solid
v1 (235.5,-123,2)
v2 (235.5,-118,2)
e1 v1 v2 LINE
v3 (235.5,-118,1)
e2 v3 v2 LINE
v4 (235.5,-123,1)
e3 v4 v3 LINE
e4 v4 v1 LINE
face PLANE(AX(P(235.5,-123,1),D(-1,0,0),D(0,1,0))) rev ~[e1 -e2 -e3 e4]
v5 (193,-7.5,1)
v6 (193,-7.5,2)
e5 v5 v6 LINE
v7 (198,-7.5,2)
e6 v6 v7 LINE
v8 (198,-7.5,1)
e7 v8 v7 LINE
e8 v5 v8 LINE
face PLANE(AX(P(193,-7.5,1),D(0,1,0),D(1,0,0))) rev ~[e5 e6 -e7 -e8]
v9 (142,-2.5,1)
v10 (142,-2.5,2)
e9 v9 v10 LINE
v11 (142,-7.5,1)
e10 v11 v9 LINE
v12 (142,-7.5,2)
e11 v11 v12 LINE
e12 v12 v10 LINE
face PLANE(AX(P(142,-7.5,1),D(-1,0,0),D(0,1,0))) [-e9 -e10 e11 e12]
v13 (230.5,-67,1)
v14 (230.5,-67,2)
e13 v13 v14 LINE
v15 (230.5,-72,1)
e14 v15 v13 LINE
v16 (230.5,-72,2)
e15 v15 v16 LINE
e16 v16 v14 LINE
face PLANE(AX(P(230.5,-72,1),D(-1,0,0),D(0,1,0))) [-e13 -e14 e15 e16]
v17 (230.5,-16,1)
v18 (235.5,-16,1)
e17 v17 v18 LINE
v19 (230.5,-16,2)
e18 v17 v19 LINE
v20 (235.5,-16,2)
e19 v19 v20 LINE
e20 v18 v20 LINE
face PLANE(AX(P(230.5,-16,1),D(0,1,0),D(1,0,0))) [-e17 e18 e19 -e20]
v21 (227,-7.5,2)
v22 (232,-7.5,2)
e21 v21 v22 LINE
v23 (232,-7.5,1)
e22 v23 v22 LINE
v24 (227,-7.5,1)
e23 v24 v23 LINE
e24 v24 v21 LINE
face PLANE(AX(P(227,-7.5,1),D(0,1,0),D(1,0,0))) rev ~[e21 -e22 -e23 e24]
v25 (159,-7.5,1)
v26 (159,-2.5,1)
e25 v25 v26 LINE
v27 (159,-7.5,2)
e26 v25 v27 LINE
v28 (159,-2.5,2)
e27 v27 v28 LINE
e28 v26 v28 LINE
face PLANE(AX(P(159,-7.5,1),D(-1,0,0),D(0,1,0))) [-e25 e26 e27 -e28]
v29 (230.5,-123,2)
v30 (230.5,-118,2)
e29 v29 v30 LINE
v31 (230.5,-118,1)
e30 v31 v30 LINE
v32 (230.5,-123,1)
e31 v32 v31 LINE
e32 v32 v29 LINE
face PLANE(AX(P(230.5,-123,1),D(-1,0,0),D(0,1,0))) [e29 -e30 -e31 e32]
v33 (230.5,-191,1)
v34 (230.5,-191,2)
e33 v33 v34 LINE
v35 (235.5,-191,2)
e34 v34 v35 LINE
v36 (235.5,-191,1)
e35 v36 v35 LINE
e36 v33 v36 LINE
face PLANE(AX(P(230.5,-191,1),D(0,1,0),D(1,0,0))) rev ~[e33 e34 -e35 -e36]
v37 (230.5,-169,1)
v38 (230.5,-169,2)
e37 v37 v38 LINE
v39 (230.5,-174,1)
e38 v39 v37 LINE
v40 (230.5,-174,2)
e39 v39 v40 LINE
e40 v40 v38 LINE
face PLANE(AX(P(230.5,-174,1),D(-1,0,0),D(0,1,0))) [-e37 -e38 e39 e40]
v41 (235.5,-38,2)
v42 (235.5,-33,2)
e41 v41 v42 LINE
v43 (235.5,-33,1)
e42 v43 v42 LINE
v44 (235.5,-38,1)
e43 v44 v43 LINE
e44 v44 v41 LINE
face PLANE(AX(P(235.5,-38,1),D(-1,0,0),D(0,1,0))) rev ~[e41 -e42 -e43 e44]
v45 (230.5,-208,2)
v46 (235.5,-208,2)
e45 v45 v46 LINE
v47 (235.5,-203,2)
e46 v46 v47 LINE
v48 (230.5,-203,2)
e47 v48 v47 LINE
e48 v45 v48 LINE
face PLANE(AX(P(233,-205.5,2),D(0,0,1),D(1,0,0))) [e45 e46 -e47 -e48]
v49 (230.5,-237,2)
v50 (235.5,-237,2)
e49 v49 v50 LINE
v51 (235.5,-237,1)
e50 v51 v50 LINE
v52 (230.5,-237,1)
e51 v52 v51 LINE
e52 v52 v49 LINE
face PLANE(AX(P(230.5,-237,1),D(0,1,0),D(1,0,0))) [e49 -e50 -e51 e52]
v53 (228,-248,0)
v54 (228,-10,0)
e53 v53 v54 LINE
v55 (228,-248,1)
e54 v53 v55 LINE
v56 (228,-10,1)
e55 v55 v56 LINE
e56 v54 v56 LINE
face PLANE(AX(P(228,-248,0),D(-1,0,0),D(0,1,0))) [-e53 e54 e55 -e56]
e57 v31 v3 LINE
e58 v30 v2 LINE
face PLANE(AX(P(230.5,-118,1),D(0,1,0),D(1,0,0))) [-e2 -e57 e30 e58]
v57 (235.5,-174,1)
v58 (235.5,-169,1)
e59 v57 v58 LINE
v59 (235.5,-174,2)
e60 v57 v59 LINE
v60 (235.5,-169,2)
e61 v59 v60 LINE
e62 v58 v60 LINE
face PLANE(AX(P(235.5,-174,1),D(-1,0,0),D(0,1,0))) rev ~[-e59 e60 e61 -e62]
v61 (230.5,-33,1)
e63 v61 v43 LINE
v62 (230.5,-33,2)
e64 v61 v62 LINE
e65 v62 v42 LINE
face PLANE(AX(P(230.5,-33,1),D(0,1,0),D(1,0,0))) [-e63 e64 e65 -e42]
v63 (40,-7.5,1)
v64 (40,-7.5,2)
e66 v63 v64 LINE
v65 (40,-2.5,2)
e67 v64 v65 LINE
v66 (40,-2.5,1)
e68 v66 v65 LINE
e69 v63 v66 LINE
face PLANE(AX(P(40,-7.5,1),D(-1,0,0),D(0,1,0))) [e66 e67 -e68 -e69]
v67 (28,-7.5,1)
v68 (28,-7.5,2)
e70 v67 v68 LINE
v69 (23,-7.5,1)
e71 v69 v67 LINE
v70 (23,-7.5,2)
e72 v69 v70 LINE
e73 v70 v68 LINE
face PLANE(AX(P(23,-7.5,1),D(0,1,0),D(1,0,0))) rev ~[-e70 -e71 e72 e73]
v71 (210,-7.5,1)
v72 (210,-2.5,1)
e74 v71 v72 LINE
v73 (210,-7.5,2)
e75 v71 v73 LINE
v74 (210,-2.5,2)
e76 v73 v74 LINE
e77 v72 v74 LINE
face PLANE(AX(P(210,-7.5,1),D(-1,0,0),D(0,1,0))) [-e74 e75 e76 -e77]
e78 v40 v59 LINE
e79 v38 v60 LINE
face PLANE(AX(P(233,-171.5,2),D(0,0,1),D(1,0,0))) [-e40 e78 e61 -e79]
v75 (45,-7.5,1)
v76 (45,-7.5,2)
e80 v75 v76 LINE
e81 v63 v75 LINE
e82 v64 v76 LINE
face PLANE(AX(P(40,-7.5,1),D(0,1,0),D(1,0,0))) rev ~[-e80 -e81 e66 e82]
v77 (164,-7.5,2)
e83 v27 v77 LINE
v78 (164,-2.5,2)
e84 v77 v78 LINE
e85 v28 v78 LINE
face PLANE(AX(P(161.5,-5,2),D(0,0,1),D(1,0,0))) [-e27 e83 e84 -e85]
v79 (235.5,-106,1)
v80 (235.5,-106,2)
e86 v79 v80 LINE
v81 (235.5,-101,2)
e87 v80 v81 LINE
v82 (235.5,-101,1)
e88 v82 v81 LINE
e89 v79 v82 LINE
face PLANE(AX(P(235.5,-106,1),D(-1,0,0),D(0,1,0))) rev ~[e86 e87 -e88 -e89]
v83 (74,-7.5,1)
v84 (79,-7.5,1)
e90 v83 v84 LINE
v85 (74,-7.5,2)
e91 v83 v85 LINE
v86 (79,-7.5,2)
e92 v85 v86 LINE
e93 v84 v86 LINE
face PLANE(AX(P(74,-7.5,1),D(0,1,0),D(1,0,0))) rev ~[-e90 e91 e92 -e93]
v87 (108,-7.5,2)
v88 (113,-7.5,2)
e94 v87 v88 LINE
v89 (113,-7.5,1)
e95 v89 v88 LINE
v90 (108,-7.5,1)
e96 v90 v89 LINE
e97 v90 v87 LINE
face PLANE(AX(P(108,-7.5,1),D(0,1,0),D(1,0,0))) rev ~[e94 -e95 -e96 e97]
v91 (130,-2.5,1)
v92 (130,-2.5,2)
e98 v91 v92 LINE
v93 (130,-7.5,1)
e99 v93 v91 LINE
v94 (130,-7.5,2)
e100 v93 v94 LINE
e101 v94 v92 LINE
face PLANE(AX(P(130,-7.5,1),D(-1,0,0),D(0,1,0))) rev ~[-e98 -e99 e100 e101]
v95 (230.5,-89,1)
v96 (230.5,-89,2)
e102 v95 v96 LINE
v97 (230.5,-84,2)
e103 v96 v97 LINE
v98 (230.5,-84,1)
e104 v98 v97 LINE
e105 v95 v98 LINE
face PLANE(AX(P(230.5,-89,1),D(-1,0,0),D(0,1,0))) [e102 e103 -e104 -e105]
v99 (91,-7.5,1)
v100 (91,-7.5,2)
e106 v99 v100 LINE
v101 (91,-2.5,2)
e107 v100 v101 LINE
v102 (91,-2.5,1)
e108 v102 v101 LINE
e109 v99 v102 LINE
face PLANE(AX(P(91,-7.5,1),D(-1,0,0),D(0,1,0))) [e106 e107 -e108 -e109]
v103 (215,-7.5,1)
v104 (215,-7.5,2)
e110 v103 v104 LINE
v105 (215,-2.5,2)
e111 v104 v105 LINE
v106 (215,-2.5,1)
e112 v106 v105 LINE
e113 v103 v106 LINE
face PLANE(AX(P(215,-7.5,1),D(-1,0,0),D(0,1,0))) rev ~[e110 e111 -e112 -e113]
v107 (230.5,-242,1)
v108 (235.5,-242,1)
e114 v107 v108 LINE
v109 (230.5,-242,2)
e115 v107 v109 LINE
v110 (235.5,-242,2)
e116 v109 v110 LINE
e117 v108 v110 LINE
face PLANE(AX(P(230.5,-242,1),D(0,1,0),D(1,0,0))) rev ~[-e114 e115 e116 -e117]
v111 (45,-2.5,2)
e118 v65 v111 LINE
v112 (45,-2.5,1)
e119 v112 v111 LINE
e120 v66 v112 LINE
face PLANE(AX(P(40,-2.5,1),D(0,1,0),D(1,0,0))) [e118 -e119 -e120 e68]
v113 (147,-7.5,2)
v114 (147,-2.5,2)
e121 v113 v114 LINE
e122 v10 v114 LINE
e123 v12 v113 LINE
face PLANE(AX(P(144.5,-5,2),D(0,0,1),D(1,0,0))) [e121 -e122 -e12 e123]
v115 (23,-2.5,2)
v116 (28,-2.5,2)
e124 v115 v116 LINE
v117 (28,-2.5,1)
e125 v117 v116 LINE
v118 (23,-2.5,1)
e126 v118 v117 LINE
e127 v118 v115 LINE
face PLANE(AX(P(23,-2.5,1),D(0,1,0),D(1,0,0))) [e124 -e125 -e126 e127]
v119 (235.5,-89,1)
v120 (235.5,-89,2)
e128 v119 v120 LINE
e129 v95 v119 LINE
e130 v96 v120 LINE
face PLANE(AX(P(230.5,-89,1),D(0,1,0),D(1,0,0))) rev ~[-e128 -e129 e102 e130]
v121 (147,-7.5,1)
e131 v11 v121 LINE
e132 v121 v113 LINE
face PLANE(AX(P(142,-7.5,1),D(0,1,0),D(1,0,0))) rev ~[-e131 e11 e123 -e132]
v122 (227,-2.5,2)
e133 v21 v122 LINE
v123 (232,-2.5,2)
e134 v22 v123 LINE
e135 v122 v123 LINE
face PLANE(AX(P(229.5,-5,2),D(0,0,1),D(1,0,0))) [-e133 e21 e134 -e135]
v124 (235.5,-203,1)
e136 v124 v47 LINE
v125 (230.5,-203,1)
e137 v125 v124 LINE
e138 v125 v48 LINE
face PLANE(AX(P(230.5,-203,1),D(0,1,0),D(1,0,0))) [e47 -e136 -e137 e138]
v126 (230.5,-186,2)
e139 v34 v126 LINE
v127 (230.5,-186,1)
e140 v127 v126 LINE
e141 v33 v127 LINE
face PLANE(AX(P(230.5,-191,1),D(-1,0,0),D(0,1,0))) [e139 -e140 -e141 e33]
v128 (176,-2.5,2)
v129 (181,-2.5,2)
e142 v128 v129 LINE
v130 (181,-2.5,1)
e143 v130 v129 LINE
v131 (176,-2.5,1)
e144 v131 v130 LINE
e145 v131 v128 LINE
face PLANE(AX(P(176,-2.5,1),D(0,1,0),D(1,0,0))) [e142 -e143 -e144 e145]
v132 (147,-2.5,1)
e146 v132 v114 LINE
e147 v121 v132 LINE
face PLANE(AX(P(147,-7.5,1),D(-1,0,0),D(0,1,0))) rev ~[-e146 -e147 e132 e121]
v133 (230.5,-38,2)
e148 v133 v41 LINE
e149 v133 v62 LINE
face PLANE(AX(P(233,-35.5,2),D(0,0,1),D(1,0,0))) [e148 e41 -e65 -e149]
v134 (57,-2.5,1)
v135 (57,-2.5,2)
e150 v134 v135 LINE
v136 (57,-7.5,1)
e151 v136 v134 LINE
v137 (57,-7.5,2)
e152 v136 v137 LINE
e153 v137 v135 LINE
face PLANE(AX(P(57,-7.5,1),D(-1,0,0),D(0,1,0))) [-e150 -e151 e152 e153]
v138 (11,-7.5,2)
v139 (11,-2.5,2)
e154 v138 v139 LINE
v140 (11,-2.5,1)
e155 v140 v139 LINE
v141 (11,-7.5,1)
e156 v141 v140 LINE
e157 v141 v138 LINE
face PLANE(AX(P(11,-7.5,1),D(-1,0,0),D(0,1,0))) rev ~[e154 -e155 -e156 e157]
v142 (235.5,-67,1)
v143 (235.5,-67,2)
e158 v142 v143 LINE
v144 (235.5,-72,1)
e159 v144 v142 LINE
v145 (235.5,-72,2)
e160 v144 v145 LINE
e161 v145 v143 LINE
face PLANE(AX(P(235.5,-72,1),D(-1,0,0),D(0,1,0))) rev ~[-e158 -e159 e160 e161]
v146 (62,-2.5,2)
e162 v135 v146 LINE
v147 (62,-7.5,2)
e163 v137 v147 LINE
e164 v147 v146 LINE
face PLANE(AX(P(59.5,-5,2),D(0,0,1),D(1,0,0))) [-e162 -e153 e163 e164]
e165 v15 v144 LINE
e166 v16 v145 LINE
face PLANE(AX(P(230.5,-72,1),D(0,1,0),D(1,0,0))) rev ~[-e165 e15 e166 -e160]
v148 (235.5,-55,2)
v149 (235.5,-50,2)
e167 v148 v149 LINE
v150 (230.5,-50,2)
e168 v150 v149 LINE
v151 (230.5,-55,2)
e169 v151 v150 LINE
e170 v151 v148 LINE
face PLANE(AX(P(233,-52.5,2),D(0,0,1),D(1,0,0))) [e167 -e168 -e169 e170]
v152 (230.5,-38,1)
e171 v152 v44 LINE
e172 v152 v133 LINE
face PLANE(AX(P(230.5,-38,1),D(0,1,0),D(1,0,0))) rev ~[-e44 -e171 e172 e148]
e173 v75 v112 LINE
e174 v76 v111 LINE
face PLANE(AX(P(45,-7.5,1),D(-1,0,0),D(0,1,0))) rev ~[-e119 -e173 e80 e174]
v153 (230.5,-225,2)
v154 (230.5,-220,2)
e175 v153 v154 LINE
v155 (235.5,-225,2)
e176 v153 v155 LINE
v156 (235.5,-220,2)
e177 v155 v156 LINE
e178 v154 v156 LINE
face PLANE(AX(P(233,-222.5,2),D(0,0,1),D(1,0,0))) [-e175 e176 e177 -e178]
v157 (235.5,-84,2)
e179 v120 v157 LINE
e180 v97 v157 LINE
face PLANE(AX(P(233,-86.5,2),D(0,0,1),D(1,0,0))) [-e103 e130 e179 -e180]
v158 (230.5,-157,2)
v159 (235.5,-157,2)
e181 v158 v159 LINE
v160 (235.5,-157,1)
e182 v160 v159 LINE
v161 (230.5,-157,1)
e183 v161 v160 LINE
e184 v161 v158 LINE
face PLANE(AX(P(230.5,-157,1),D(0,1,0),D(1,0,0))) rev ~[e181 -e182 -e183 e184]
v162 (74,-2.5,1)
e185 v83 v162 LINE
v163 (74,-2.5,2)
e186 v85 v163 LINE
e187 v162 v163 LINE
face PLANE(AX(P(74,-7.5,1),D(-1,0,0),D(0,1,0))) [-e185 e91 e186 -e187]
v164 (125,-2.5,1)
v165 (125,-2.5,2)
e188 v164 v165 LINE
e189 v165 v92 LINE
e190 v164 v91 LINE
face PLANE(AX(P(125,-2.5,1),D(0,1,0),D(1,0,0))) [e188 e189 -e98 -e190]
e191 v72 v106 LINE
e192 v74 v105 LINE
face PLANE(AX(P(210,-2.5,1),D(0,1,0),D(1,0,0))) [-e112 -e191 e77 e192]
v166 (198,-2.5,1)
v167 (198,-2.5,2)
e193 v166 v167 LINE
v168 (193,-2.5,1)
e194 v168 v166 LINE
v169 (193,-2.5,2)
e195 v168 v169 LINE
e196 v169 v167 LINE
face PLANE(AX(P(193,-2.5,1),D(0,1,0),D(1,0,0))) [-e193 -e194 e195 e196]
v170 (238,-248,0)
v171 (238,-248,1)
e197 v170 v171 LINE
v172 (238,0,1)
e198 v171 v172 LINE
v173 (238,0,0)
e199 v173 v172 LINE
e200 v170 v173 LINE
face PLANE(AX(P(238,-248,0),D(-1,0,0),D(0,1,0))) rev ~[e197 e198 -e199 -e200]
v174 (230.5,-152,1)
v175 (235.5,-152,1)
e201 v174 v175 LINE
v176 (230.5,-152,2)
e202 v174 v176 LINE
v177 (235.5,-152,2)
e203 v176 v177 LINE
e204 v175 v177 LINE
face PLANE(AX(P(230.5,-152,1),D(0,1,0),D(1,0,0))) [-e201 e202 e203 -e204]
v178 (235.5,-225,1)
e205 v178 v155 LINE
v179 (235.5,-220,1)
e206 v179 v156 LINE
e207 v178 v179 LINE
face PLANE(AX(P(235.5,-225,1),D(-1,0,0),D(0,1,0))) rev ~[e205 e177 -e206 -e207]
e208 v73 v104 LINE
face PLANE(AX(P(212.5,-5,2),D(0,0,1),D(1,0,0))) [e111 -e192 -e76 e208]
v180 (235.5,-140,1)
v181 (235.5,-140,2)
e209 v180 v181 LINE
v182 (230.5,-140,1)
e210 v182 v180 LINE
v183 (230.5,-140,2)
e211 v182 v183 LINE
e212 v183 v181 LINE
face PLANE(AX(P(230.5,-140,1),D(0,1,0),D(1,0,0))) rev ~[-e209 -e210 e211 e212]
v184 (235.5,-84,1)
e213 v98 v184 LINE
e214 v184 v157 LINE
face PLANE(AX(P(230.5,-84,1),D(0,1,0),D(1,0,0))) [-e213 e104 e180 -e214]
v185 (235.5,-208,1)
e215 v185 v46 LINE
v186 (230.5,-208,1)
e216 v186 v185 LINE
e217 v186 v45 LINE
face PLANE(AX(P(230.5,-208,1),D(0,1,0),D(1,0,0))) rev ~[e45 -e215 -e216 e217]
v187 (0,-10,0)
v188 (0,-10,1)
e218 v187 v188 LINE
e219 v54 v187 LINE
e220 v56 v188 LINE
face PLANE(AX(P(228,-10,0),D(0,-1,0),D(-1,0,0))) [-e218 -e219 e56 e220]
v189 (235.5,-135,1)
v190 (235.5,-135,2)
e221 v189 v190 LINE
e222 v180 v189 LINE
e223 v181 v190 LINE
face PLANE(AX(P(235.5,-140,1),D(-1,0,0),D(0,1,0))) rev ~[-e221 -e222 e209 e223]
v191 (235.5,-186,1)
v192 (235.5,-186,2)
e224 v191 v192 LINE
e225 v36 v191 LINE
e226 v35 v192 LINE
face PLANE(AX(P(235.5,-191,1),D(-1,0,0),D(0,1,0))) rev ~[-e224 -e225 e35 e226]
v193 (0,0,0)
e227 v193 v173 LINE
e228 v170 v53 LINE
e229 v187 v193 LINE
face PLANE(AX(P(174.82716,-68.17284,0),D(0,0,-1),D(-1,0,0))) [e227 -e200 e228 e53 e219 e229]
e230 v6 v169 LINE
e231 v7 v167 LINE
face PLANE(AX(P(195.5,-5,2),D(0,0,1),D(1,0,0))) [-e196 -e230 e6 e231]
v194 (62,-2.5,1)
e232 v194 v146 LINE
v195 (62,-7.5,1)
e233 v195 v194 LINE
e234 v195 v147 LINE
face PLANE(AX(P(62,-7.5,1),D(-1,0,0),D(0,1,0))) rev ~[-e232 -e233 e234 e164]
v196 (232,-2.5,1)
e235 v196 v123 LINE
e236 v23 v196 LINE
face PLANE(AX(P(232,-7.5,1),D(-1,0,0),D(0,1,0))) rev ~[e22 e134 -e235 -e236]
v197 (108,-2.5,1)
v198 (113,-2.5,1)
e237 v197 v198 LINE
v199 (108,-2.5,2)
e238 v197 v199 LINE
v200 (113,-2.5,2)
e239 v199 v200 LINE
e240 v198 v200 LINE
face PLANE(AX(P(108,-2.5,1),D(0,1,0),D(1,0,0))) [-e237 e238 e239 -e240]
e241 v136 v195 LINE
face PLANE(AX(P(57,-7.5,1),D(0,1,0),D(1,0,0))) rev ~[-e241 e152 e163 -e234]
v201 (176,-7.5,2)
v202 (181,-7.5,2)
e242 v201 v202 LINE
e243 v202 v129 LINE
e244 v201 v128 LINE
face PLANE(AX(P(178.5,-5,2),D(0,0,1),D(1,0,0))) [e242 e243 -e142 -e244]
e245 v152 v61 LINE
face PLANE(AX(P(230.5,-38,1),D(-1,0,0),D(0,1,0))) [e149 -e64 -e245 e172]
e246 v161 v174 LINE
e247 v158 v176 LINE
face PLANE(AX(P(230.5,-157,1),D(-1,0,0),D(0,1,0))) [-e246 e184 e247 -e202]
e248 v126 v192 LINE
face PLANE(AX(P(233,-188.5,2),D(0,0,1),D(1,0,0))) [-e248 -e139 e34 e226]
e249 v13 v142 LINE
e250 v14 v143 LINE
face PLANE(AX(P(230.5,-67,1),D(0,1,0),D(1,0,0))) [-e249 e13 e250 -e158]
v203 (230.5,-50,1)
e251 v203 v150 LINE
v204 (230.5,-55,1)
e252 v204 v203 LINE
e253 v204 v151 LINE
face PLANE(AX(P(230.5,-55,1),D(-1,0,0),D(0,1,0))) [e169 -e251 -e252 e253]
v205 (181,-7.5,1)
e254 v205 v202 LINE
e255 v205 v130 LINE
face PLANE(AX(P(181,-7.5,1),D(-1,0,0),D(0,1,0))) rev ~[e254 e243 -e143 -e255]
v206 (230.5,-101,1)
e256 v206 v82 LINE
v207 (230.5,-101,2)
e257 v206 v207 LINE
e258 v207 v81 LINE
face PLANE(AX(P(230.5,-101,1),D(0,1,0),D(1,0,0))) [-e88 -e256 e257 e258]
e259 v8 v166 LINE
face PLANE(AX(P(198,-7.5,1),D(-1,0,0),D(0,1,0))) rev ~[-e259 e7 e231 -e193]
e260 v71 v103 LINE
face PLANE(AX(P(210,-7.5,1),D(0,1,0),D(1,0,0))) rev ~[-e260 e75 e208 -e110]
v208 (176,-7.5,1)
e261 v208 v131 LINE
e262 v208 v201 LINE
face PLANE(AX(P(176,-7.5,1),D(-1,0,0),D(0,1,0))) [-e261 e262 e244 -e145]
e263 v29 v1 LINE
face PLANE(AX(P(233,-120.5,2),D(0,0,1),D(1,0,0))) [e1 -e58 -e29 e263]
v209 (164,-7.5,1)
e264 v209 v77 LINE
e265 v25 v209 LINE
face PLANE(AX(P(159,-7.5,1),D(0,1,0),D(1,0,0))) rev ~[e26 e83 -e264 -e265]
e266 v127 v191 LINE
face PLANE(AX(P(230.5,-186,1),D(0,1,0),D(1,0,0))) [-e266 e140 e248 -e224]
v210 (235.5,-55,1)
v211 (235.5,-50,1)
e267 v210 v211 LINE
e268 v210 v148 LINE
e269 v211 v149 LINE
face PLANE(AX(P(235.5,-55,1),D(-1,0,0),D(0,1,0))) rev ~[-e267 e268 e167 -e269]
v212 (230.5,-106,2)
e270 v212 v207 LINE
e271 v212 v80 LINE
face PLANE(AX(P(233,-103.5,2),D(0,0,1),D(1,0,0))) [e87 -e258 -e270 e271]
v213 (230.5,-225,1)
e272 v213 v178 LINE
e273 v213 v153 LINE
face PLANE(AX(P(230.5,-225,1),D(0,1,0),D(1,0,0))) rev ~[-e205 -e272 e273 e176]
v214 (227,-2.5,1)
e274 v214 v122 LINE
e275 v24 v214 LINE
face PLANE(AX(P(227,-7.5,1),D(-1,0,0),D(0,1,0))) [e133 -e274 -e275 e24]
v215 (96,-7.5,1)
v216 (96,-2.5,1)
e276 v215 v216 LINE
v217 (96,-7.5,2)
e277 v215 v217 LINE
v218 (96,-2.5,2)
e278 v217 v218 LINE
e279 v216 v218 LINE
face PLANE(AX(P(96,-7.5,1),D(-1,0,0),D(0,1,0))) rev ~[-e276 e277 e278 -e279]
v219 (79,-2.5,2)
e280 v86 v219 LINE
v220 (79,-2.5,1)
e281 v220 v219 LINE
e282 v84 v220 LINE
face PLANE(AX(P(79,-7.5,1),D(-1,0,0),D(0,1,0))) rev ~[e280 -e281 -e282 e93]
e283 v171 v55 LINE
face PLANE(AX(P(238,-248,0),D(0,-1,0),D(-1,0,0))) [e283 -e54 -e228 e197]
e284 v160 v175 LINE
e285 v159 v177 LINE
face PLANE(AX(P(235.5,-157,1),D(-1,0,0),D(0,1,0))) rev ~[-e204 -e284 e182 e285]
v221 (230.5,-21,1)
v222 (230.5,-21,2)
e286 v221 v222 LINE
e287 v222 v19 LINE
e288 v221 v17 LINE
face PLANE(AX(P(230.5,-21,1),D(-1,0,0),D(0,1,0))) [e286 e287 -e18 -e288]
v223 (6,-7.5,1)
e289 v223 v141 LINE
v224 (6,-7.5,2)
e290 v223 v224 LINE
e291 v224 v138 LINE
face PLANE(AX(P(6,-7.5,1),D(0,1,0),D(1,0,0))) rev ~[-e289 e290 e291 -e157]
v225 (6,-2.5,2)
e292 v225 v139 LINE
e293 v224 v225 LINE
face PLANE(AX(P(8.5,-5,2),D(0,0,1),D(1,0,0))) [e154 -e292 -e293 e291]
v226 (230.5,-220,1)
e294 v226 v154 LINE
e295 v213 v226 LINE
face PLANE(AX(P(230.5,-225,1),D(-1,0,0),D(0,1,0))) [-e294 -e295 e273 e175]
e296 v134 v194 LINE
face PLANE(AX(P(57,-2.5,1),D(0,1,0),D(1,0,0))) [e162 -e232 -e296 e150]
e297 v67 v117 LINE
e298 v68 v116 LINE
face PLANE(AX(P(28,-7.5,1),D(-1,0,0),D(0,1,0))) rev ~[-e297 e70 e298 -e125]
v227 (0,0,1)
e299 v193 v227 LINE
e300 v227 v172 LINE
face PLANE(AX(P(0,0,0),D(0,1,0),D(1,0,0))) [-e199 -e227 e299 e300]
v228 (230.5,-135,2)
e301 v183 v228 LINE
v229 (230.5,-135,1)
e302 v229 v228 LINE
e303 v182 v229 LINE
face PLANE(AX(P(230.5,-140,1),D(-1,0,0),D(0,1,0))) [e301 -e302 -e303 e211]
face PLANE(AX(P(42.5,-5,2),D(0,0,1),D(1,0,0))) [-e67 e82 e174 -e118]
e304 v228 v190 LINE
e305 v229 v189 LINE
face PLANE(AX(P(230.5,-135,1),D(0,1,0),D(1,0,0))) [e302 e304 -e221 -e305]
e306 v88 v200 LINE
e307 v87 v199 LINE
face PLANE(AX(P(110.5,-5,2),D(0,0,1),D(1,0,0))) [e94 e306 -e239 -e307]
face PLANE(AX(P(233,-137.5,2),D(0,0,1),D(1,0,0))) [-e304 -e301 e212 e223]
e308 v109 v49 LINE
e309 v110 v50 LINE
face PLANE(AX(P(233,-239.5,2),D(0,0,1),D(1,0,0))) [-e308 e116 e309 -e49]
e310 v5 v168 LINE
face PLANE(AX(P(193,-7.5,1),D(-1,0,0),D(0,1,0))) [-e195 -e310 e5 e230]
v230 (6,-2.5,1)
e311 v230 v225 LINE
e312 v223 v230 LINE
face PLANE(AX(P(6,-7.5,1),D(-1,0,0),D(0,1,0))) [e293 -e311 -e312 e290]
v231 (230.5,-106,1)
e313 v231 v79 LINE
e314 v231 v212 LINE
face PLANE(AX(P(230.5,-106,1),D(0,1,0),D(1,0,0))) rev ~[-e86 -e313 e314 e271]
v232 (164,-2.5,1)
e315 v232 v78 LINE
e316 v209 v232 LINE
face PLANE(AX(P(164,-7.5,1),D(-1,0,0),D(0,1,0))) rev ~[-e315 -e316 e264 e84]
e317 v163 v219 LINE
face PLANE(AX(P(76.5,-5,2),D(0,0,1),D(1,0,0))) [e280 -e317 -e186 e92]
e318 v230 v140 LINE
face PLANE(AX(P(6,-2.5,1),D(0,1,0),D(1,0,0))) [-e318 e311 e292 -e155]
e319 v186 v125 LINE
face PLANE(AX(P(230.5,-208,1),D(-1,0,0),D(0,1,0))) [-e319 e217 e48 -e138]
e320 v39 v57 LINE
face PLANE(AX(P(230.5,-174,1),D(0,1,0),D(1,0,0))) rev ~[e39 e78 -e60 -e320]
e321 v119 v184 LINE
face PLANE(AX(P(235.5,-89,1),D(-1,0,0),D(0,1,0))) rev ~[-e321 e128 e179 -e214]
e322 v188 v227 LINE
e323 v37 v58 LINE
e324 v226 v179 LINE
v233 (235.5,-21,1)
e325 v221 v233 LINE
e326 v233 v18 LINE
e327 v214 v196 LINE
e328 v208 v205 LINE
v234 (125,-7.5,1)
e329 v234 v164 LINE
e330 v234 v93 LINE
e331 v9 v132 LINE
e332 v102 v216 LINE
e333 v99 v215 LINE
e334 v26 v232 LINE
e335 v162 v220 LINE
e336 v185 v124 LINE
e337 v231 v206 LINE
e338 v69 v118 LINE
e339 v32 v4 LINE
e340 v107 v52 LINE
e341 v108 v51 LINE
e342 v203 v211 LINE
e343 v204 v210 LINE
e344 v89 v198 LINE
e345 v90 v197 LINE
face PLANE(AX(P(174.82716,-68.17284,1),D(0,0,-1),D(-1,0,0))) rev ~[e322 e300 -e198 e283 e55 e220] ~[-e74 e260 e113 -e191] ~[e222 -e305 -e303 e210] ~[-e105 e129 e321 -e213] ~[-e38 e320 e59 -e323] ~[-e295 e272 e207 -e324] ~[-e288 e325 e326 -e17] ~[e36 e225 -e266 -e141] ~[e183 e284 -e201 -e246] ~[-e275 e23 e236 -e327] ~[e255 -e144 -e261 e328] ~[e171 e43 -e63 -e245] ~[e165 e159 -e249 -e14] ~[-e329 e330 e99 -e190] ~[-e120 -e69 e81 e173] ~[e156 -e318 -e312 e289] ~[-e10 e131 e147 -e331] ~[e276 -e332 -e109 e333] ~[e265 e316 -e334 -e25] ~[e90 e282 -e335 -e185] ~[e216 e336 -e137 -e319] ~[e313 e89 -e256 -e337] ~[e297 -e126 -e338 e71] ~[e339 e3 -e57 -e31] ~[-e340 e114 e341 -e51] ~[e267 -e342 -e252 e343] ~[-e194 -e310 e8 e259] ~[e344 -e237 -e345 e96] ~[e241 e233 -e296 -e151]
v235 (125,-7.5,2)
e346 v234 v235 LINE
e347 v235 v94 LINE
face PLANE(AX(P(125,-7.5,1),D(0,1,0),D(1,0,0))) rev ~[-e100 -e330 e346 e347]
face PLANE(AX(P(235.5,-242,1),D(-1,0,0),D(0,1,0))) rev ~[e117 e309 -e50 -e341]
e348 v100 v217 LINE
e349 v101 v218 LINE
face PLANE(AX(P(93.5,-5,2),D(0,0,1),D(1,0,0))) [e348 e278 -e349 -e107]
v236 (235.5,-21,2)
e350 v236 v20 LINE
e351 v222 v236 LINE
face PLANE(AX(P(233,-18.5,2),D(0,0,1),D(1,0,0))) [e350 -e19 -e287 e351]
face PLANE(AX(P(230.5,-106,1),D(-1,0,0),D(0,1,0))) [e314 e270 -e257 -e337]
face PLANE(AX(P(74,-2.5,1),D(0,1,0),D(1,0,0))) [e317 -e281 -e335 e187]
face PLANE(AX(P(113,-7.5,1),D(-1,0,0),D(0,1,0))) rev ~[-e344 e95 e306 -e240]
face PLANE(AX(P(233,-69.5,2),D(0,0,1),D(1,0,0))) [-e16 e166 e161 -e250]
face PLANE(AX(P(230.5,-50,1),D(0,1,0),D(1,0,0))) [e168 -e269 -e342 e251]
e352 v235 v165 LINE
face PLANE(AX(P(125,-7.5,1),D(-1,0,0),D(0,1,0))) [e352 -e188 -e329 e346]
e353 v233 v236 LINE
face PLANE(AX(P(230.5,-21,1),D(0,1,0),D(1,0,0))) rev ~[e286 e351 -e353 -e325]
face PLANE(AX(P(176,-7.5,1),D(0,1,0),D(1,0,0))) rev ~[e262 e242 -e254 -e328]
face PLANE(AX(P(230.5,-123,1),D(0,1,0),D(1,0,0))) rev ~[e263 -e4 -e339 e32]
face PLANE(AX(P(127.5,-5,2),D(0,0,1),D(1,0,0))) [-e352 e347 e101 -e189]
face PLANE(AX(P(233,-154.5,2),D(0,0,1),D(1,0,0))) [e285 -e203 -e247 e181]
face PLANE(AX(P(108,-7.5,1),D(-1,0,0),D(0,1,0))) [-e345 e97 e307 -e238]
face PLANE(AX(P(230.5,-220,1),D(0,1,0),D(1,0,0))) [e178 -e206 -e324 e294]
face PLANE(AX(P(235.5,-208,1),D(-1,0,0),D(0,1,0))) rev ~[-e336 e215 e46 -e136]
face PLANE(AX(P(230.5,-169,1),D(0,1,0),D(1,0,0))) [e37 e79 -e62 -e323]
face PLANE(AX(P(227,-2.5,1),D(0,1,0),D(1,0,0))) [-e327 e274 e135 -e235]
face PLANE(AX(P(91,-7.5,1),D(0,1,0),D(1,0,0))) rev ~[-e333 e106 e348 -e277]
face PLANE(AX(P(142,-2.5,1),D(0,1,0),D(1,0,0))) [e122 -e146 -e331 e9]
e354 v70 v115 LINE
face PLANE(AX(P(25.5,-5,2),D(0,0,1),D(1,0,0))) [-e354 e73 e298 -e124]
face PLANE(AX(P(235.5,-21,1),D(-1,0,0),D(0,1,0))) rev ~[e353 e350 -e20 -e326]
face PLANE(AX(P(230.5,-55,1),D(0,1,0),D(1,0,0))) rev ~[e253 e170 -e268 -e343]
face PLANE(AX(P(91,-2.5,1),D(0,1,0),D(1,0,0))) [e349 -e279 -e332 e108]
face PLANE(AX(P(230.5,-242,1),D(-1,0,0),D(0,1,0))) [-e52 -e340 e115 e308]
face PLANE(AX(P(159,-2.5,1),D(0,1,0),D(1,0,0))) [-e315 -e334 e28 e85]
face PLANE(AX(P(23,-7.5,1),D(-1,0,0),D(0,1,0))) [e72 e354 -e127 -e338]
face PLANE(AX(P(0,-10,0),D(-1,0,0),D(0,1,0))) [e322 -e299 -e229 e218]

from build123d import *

# Parameters (mm, degrees)
EXTRUDE_1_DEPTH = 1
SKETCH_2_W      = 5
SKETCH_2_H      = 5
EXTRUDE_2_DEPTH = 1


with BuildPart() as part:
    # 草圖1 → 填料-伸長1 (new body)
    with BuildSketch(Plane.XY):
        Polygon((0, 0), (238, 0), (238, -10), (238, -248), (228, -248), (228, -10), (0, -10), align=None)
    extrude(amount=EXTRUDE_1_DEPTH)

    # 草圖2 → 填料-伸長2 (add)
    with BuildSketch(Plane.XY.offset(1)):
        with Locations((25.5, -5)):
            Rectangle(SKETCH_2_W, SKETCH_2_H)
        with Locations((8.5, -5)):
            Rectangle(SKETCH_2_W, SKETCH_2_H)
        with Locations((42.5, -5)):
            Rectangle(SKETCH_2_W, SKETCH_2_H)
        with Locations((59.5, -5)):
            Rectangle(SKETCH_2_W, SKETCH_2_H)
        with Locations((76.5, -5)):
            Rectangle(SKETCH_2_W, SKETCH_2_H)
        with Locations((93.5, -5)):
            Rectangle(SKETCH_2_W, SKETCH_2_H)
        with Locations((110.5, -5)):
            Rectangle(SKETCH_2_W, SKETCH_2_H)
        with Locations((127.5, -5)):
            Rectangle(SKETCH_2_W, SKETCH_2_H)
        with Locations((144.5, -5)):
            Rectangle(SKETCH_2_W, SKETCH_2_H)
        with Locations((161.5, -5)):
            Rectangle(SKETCH_2_W, SKETCH_2_H)
        with Locations((178.5, -5)):
            Rectangle(SKETCH_2_W, SKETCH_2_H)
        with Locations((195.5, -5)):
            Rectangle(SKETCH_2_W, SKETCH_2_H)
        with Locations((212.5, -5)):
            Rectangle(SKETCH_2_W, SKETCH_2_H)
        with Locations((229.5, -5)):
            Rectangle(SKETCH_2_W, SKETCH_2_H)
        with Locations((233, -222.5)):
            Rectangle(SKETCH_2_W, SKETCH_2_H)
        with Locations((233, -239.5)):
            Rectangle(SKETCH_2_W, SKETCH_2_H)
        with Locations((233, -205.5)):
            Rectangle(SKETCH_2_W, SKETCH_2_H)
        with Locations((233, -188.5)):
            Rectangle(SKETCH_2_W, SKETCH_2_H)
        with Locations((233, -171.5)):
            Rectangle(SKETCH_2_W, SKETCH_2_H)
        with Locations((233, -154.5)):
            Rectangle(SKETCH_2_W, SKETCH_2_H)
        with Locations((233, -137.5)):
            Rectangle(SKETCH_2_W, SKETCH_2_H)
        with Locations((233, -120.5)):
            Rectangle(SKETCH_2_W, SKETCH_2_H)
        with Locations((233, -103.5)):
            Rectangle(SKETCH_2_W, SKETCH_2_H)
        with Locations((233, -86.5)):
            Rectangle(SKETCH_2_W, SKETCH_2_H)
        with Locations((233, -69.5)):
            Rectangle(SKETCH_2_W, SKETCH_2_H)
        with Locations((233, -52.5)):
            Rectangle(SKETCH_2_W, SKETCH_2_H)
        with Locations((233, -35.5)):
            Rectangle(SKETCH_2_W, SKETCH_2_H)
        with Locations((233, -18.5)):
            Rectangle(SKETCH_2_W, SKETCH_2_H)
    extrude(amount=EXTRUDE_2_DEPTH)


solid = part.part
